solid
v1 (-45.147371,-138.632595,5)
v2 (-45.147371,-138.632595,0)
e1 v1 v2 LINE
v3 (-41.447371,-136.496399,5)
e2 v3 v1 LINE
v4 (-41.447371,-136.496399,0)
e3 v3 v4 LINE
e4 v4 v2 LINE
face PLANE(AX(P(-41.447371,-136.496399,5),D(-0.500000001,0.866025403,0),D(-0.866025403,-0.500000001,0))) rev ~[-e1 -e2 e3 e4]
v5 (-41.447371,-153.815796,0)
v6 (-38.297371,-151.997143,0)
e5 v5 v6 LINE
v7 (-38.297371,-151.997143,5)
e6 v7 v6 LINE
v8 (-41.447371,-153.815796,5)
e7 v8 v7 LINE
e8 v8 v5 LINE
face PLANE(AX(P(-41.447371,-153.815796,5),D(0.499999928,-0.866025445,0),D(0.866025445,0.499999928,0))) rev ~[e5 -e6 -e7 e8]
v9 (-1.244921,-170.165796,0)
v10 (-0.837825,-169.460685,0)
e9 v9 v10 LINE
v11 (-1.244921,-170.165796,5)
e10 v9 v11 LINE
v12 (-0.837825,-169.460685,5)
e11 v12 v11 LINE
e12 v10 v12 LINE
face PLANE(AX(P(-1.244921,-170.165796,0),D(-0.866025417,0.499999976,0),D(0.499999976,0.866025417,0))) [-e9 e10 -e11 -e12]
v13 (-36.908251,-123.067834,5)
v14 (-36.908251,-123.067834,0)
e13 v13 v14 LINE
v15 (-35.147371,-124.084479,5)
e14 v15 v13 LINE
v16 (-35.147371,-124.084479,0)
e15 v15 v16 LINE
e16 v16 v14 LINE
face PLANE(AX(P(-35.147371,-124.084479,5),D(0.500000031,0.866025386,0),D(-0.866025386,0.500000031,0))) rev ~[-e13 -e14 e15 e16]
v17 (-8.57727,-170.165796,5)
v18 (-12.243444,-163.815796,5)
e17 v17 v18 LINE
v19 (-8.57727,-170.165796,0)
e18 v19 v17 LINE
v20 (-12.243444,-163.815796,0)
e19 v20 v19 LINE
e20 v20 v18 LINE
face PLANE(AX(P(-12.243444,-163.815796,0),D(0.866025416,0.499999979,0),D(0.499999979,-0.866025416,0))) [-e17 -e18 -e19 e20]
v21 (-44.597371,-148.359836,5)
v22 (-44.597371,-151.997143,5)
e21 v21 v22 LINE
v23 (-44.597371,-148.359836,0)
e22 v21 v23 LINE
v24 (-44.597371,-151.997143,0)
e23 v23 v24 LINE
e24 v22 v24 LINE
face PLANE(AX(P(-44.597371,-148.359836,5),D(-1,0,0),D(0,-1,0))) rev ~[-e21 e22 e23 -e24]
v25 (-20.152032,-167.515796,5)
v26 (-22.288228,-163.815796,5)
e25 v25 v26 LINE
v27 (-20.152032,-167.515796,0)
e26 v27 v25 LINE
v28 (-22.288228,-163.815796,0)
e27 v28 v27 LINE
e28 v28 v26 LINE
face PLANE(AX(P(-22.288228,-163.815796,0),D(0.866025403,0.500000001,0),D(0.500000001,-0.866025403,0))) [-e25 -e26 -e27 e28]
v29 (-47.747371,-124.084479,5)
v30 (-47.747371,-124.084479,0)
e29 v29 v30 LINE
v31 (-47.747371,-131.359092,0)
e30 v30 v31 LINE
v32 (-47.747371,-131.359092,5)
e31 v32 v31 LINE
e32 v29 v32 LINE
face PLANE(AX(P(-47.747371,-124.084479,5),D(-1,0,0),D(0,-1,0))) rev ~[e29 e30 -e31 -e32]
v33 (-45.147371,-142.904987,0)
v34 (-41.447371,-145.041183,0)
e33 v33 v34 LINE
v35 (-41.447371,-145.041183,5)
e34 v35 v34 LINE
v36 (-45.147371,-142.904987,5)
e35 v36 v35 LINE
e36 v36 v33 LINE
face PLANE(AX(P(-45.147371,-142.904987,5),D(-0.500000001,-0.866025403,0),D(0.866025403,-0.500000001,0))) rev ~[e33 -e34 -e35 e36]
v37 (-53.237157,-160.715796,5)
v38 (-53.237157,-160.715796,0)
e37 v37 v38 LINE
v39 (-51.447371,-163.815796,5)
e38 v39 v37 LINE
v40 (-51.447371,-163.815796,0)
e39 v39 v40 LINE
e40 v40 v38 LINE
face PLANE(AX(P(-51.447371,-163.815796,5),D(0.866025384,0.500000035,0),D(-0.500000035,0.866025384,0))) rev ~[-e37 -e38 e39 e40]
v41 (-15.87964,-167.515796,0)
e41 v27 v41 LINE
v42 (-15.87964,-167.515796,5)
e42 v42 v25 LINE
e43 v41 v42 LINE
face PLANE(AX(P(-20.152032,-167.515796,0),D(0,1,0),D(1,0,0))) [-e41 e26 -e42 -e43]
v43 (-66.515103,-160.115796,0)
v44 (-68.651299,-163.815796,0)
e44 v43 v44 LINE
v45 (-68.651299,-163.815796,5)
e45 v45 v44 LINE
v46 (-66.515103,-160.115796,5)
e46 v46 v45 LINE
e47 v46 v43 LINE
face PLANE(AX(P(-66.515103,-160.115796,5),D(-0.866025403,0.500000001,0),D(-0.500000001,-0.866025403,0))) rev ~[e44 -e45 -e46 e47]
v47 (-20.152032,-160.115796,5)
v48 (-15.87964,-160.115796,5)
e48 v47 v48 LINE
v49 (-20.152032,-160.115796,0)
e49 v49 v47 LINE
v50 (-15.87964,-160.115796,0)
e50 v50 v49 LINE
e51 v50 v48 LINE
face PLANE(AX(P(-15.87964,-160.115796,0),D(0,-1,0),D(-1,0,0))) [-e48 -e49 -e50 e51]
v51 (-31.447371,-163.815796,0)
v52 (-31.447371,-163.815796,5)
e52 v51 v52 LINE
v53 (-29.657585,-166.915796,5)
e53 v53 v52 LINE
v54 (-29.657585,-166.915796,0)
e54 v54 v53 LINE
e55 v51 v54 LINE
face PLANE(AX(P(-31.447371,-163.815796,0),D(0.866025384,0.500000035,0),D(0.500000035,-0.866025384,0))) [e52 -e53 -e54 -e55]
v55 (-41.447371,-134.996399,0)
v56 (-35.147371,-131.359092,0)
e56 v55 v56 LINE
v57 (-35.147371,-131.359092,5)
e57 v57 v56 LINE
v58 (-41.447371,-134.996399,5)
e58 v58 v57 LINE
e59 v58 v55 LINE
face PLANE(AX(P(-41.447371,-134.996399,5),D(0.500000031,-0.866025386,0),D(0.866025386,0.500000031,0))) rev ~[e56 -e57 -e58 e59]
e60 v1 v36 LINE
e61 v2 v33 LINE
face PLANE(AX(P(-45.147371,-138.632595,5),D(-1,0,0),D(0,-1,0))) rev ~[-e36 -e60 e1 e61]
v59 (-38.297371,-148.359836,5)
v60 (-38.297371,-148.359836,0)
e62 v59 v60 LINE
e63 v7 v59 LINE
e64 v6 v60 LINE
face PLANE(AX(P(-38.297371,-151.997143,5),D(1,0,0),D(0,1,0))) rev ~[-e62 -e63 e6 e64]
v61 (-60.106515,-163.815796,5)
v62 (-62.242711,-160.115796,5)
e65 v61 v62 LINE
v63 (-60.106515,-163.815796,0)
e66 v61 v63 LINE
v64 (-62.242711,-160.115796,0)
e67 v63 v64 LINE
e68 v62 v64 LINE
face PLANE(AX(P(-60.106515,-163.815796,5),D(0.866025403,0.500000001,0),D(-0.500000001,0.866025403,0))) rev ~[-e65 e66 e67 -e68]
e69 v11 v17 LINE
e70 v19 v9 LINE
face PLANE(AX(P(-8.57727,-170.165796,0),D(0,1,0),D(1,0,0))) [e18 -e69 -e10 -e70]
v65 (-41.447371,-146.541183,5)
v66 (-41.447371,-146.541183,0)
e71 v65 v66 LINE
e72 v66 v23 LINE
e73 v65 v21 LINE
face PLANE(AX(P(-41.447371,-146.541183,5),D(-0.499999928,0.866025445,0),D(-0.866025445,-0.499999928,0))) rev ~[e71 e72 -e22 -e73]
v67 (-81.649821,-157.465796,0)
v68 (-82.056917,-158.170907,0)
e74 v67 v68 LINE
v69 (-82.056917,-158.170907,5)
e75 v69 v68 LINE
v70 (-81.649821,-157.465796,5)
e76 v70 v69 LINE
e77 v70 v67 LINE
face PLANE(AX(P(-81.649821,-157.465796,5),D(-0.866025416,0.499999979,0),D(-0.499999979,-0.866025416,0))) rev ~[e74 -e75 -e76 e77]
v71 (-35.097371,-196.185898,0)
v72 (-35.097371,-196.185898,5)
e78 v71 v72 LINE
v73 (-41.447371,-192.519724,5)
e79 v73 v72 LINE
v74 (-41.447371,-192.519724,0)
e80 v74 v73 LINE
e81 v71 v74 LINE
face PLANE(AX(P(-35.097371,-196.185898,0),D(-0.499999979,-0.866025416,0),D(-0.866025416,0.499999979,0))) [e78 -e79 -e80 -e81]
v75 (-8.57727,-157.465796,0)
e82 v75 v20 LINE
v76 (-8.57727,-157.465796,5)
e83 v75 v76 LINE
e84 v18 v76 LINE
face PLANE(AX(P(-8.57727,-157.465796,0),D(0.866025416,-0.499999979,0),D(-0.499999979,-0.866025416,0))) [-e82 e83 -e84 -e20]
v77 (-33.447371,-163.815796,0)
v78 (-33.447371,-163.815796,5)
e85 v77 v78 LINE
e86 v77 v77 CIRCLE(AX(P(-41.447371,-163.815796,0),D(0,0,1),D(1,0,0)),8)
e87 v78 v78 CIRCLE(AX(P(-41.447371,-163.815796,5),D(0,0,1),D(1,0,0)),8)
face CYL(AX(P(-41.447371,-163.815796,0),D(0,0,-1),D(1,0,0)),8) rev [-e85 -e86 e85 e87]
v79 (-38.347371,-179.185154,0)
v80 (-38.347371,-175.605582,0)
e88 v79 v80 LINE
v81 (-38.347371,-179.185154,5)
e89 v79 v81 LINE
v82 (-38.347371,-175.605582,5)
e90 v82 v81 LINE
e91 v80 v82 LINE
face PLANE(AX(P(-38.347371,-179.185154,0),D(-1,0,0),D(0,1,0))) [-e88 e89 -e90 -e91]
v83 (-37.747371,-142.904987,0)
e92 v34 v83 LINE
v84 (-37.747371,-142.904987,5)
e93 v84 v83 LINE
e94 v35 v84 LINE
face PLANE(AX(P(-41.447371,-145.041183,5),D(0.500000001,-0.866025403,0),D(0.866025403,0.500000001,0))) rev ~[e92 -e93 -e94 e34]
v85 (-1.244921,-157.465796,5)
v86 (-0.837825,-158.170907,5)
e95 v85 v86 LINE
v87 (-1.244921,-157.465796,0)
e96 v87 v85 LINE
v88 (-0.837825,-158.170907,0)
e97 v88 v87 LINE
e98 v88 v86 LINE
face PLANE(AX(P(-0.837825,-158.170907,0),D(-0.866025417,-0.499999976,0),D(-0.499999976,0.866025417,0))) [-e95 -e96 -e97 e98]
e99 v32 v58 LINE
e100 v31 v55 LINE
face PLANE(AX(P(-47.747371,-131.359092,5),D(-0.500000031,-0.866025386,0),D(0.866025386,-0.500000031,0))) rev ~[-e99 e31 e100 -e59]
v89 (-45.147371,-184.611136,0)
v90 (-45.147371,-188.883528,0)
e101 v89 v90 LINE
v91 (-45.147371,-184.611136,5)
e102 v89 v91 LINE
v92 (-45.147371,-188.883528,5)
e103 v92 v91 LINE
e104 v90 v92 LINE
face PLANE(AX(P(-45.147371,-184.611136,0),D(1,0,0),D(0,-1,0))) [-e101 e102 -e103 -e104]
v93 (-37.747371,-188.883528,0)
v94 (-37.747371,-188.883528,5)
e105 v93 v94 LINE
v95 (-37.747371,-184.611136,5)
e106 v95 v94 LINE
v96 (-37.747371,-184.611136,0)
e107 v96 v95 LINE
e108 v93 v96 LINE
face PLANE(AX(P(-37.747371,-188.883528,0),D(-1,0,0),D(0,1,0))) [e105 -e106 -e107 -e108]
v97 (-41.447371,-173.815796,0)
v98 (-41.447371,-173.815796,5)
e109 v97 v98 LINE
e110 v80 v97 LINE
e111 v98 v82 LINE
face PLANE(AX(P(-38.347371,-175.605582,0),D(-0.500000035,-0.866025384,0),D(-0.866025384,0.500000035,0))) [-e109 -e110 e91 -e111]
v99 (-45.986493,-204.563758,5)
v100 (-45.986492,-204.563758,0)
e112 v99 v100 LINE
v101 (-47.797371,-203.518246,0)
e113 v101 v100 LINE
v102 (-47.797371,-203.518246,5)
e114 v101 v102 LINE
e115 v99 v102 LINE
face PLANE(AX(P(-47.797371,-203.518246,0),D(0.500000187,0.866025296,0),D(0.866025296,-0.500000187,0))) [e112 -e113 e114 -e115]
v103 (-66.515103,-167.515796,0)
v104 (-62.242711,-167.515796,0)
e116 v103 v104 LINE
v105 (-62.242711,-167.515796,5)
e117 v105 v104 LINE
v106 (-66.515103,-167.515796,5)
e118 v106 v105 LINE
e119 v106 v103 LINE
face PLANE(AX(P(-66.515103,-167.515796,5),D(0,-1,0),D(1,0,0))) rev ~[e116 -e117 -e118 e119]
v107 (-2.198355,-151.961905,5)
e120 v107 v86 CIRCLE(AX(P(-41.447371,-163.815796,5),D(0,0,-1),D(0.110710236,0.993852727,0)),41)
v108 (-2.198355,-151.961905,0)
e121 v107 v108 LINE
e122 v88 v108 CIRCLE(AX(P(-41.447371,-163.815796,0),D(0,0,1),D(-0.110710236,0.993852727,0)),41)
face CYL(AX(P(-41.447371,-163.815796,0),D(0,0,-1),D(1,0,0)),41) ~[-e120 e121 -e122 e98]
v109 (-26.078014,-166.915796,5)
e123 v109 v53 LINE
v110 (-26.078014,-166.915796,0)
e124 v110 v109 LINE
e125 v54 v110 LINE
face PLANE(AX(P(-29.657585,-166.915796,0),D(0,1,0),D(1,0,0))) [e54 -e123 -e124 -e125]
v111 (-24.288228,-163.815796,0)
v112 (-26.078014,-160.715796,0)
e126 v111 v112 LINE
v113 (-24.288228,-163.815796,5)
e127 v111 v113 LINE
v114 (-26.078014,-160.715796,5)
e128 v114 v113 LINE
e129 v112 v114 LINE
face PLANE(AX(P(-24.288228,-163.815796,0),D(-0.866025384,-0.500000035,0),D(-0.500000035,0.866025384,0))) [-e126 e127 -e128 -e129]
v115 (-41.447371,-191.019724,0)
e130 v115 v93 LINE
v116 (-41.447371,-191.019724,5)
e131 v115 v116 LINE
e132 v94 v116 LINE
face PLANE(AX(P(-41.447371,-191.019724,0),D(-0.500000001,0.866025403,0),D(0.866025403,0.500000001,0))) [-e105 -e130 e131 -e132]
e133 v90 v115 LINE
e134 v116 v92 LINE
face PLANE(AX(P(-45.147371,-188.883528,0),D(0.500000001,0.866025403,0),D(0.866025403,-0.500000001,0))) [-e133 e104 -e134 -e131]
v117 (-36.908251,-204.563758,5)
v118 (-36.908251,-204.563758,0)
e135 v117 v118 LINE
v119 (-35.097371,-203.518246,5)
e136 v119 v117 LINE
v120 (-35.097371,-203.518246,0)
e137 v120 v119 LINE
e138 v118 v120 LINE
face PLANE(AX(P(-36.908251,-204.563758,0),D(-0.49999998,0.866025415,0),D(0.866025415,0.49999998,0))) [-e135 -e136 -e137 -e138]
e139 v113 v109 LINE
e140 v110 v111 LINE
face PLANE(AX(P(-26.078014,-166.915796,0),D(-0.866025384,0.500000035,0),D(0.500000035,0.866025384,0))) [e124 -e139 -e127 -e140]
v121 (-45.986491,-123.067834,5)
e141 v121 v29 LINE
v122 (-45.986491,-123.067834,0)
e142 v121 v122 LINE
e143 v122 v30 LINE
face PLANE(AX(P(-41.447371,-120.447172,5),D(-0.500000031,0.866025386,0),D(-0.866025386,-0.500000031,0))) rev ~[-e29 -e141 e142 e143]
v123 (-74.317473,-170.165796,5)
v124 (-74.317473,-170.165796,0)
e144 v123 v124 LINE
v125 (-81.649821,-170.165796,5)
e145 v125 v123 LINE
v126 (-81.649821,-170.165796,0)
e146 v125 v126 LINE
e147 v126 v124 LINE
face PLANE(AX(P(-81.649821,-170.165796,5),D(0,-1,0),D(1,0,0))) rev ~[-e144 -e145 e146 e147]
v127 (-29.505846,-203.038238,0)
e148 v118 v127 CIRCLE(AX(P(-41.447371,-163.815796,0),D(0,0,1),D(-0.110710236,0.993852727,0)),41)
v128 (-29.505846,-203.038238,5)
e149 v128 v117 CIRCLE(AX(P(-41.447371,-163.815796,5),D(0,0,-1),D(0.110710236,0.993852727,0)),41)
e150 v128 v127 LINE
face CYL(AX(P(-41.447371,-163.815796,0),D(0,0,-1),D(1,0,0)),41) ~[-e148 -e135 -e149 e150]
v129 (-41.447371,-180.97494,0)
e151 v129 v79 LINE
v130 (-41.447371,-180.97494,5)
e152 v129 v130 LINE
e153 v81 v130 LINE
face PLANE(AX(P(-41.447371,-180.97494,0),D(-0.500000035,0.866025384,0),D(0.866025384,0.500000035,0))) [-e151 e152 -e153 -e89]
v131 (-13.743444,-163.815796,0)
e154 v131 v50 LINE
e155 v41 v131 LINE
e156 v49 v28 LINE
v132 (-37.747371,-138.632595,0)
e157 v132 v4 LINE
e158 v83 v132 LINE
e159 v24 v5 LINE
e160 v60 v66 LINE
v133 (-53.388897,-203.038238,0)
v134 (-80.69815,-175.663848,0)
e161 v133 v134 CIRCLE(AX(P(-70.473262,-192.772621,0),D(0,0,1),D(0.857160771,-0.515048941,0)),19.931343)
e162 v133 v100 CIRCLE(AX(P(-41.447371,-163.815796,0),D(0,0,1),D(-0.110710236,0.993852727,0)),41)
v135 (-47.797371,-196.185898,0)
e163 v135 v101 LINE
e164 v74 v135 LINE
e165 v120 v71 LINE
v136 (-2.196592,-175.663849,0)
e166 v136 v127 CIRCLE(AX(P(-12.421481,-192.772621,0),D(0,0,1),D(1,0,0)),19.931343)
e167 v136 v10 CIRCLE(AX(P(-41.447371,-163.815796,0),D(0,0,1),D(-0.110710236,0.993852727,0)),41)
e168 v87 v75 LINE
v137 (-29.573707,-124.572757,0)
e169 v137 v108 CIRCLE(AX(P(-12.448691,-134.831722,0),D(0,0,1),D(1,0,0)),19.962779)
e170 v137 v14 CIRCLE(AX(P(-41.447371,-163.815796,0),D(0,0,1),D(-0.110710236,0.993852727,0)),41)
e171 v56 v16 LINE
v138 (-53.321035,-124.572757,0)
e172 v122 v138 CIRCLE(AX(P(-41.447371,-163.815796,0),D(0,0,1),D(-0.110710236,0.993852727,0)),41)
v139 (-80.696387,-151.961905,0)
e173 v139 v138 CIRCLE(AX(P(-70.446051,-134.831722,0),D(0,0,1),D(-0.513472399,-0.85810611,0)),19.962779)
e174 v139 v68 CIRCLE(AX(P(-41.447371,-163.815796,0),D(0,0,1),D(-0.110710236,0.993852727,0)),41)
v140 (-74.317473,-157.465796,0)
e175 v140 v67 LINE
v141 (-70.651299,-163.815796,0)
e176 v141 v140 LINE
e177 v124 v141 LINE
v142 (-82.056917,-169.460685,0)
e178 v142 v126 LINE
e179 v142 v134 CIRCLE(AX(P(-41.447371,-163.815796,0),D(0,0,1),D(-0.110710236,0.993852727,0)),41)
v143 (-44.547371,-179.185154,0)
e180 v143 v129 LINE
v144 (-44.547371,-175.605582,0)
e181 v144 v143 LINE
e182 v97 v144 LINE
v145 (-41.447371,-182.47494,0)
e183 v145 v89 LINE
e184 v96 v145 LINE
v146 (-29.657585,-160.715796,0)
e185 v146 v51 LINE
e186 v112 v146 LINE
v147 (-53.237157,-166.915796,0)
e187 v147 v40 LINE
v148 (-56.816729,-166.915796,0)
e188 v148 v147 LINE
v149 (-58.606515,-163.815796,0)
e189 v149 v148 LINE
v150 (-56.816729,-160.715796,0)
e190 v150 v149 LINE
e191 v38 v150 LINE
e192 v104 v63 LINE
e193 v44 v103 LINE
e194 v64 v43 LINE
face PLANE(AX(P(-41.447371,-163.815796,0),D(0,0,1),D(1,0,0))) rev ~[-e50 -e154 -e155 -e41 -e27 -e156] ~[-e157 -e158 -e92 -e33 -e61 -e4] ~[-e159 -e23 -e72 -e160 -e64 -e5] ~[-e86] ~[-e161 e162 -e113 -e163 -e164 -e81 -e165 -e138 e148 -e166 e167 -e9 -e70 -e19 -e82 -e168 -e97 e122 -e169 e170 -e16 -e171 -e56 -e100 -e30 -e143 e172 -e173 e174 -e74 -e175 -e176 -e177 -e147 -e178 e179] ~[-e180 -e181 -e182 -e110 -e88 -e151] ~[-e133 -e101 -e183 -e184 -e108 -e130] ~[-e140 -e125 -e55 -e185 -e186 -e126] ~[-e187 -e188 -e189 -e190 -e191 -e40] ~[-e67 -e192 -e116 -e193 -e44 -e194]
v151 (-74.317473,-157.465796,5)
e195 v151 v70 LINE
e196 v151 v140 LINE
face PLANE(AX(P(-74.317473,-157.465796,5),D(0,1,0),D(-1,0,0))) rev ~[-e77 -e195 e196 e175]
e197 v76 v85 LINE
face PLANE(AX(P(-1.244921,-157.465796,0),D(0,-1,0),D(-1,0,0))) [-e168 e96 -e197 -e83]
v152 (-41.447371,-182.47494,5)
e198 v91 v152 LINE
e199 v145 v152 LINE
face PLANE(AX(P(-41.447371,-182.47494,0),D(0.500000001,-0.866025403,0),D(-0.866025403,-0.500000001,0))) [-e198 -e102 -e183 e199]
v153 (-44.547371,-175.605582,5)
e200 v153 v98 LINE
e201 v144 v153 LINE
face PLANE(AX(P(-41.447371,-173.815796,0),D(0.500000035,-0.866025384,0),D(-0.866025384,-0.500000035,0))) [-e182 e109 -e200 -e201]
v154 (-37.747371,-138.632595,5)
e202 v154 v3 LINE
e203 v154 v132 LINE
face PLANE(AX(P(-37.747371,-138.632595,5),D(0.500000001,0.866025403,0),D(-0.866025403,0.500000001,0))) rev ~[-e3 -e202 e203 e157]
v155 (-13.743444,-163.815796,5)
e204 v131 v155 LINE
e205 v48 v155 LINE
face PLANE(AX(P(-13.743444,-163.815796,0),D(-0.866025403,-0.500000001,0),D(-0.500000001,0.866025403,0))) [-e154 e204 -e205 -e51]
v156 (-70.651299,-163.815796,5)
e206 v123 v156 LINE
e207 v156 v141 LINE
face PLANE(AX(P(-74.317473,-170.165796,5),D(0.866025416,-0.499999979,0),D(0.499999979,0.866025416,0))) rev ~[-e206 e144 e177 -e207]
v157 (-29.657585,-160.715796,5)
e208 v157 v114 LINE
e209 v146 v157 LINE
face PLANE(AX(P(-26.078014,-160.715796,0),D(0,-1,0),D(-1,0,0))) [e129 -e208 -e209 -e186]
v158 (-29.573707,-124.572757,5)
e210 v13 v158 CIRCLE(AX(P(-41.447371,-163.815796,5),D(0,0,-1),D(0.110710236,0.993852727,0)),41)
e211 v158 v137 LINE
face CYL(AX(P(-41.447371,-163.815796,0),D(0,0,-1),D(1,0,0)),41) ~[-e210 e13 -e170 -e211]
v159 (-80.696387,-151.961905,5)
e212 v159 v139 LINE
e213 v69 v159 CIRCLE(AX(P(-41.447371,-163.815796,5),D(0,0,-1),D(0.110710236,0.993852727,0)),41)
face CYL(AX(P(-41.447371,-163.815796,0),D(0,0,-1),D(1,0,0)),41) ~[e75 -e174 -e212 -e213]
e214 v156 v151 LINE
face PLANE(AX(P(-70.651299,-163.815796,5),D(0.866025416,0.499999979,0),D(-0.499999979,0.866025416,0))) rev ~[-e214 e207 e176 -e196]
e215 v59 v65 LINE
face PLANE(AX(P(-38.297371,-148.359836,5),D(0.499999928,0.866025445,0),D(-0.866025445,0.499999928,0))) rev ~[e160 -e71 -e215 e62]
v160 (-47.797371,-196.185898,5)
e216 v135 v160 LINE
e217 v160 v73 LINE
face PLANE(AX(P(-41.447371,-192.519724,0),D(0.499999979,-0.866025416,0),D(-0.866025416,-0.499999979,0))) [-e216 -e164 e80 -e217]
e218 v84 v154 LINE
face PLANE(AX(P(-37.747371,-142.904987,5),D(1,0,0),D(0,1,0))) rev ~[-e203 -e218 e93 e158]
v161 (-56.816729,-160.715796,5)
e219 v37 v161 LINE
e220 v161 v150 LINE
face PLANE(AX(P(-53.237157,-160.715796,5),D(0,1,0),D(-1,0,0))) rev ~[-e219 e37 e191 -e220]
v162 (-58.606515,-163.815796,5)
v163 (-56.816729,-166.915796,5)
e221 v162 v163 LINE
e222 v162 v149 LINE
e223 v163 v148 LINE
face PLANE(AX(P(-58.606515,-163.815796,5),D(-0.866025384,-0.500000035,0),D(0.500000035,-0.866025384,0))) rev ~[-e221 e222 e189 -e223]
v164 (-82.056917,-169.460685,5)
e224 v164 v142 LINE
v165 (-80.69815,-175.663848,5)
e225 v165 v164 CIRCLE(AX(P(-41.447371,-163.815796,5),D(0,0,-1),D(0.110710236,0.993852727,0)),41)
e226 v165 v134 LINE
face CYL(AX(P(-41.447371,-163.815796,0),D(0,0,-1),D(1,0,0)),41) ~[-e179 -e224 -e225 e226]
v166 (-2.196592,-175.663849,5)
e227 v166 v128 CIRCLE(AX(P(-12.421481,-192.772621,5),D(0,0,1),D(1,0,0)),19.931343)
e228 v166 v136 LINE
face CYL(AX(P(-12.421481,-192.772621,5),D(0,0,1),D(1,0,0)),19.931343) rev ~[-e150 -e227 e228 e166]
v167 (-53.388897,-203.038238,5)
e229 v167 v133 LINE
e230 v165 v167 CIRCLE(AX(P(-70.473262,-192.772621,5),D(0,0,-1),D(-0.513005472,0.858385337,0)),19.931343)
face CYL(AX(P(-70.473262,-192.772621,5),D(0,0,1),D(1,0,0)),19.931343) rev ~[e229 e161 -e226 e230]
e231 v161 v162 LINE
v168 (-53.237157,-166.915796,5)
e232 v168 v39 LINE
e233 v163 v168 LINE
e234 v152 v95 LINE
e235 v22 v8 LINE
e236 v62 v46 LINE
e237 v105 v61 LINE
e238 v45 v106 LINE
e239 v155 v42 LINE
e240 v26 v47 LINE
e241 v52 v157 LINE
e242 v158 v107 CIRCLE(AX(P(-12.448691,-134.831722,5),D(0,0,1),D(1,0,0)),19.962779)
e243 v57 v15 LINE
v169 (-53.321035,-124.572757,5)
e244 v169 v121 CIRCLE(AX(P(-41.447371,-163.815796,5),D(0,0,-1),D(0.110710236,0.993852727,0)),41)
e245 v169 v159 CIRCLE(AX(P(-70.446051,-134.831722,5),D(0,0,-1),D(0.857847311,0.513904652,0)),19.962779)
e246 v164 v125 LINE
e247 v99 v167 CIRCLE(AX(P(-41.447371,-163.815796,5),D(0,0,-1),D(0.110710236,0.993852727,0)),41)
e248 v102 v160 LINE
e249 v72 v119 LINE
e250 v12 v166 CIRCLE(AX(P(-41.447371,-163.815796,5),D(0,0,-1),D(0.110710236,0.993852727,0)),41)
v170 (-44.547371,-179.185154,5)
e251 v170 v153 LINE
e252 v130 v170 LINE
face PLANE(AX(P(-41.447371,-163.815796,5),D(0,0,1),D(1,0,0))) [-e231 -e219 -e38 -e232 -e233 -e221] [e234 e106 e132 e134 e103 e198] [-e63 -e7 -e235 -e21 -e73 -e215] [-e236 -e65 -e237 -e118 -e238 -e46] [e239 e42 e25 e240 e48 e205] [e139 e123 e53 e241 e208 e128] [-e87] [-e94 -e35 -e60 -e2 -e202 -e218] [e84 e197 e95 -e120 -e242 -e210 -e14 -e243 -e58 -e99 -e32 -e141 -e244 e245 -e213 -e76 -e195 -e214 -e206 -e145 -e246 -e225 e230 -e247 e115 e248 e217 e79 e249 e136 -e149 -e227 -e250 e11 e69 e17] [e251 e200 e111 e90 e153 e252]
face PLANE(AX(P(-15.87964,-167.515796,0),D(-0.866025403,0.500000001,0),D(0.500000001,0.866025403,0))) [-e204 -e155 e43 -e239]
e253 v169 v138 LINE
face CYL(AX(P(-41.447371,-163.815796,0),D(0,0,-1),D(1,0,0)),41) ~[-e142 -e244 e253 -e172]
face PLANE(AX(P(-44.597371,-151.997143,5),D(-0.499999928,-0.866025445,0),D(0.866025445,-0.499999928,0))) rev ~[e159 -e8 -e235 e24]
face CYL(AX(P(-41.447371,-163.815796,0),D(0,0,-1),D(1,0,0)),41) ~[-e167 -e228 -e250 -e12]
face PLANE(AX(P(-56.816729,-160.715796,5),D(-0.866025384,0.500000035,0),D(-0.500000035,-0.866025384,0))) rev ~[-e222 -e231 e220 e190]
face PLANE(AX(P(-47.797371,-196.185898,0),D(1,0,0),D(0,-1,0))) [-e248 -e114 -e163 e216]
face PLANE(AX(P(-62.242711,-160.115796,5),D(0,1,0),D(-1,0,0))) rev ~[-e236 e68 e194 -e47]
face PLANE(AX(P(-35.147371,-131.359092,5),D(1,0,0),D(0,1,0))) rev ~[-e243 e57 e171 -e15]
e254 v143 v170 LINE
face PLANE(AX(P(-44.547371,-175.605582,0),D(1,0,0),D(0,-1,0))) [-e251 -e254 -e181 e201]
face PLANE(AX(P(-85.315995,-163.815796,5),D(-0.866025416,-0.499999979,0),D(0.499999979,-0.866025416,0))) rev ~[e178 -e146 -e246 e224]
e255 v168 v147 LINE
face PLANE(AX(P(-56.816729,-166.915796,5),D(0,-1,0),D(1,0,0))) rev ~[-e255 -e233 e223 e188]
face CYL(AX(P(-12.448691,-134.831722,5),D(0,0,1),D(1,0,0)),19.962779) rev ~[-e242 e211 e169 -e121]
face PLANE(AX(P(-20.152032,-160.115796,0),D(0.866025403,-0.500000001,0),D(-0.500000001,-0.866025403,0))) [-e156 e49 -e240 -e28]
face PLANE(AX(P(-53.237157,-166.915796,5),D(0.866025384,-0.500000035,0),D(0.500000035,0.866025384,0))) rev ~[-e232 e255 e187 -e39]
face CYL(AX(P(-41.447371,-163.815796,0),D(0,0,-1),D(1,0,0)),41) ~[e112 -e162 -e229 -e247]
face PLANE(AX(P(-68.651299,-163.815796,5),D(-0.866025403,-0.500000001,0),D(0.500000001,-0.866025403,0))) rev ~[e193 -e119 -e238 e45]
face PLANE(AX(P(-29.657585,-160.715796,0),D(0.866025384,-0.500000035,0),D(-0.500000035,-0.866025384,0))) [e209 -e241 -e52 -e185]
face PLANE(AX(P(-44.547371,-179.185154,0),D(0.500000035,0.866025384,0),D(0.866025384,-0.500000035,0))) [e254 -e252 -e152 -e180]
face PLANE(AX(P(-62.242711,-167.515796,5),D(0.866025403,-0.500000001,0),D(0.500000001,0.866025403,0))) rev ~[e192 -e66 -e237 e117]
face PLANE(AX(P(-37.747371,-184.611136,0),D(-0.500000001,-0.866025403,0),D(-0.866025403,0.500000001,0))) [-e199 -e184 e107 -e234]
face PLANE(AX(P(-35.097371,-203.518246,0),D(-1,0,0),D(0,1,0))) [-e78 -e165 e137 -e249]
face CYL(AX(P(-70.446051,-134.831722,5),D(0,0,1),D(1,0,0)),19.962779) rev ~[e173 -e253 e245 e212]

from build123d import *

# Parameters (mm, degrees)
F0_R      = 41
F0_R_2    = 8
F2_DEPTH  = 5
F5_DEPTH  = 5.001
F7_DEPTH  = 5.001
F9_DEPTH  = 5.001
F11_DEPTH = 5.001
F13_DEPTH = 5.001
F15_DEPTH = 25
F16_R     = 8
F17_DEPTH = 5.001
F19_DEPTH = 5.001
F21_DEPTH = 5.001
F22_R     = 8
F23_DEPTH = 5.001
F24_R     = 8
F25_DEPTH = 5.001
F26_R     = 8
F27_DEPTH = 5.001
F28_R     = 19.931343
F29_DEPTH = 5.001
F30_R     = 19.962779
F31_DEPTH = 5.001
F32_R     = 19.962779
F33_DEPTH = 5.001
F34_R     = 19.931343
F35_DEPTH = 5.001


with BuildPart() as f2:
    # F0 (on Top) → F2 (new body)
    with BuildSketch(Plane.XY):
        with Locations((-41.447371, -163.815796)):
            Circle(F0_R)
        with Locations((-41.447371, -163.815796)):
            Circle(F0_R_2, mode=Mode.SUBTRACT)
    extrude(amount=F2_DEPTH)

    # F4 (on face) → F5 (cut, through all)
    with BuildSketch(Plane.XY.offset(5)):
        Polygon((-38.297371, -151.997143), (-38.297371, -148.359836), (-41.447371, -146.541183), (-44.597371, -148.359836), (-44.597371, -151.997143), (-41.447371, -153.815796), align=None)
    extrude(amount=-F5_DEPTH, mode=Mode.SUBTRACT)

    # F6 (on face) → F7 (cut, through all)
    with BuildSketch(Plane.XY.offset(5)):
        Polygon((-37.747371, -142.904987), (-37.747371, -138.632595), (-41.447371, -136.496399), (-45.147371, -138.632595), (-45.147371, -142.904987), (-41.447371, -145.041183), align=None)
    extrude(amount=-F7_DEPTH, mode=Mode.SUBTRACT)

    # F8 (on face) → F9 (cut, through all)
    with BuildSketch(Plane.XY.offset(5)):
        Polygon((-47.747371, -131.359092), (-41.447371, -134.996399), (-35.147371, -131.359092), (-35.147371, -124.084479), (-41.447371, -120.447172), (-47.747371, -124.084479), align=None)
    extrude(amount=-F9_DEPTH, mode=Mode.SUBTRACT)

    # F10 (on face) → F11 (cut, through all)
    with BuildSketch(Plane.XY):
        Polygon((-38.347371, -175.605582), (-41.447371, -173.815796), (-44.547371, -175.605582), (-44.547371, -179.185154), (-41.447371, -180.97494), (-38.347371, -179.185154), align=None)
    extrude(amount=F11_DEPTH, mode=Mode.SUBTRACT)

    # F12 (on face) → F13 (cut, through all)
    with BuildSketch(Plane.XY):
        Polygon((-37.747371, -184.611136), (-41.447371, -182.47494), (-45.147371, -184.611136), (-45.147371, -188.883528), (-41.447371, -191.019724), (-37.747371, -188.883528), align=None)
    extrude(amount=F13_DEPTH, mode=Mode.SUBTRACT)

    # F14 (on face) → F15 (cut)
    with BuildSketch(Plane.XY):
        with BuildLine():
            Line((-35.097371, -196.185898), (-41.447371, -192.519724))
            Line((-41.447371, -192.519724), (-47.797371, -196.185898))
            Line((-47.797371, -196.185898), (-47.797371, -203.518246))
            Line((-47.797371, -203.518246), (-45.986492, -204.563758))
            ThreePointArc((-45.986492, -204.563758), (-41.447371, -204.815796), (-36.908251, -204.563758))
            Line((-36.908251, -204.563758), (-35.097371, -203.518246))
            Line((-35.097371, -203.518246), (-35.097371, -196.185898))
        make_face()
    extrude(amount=F15_DEPTH, mode=Mode.SUBTRACT)

    # F16 (on face) → F17 (cut, through all)
    with BuildSketch(Plane.XY):
        with Locations((-41.447371, -163.815796)):
            Circle(F16_R)
        Polygon((-24.288228, -163.815796), (-26.078014, -160.715796), (-29.657585, -160.715796), (-31.447371, -163.815796), align=None)
        Polygon((-26.078014, -166.915796), (-24.288228, -163.815796), (-31.447371, -163.815796), (-29.657585, -166.915796), align=None)
    extrude(amount=F17_DEPTH, mode=Mode.SUBTRACT)

    # F18 (on face) → F19 (cut, through all)
    with BuildSketch(Plane.XY):
        Polygon((-15.87964, -160.115796), (-20.152032, -160.115796), (-22.288228, -163.815796), (-20.152032, -167.515796), (-15.87964, -167.515796), (-13.743444, -163.815796), align=None)
    extrude(amount=F19_DEPTH, mode=Mode.SUBTRACT)

    # F20 (on face) → F21 (cut, through all)
    with BuildSketch(Plane.XY):
        with BuildLine():
            Line((-0.837825, -158.170907), (-1.244921, -157.465796))
            Line((-1.244921, -157.465796), (-8.57727, -157.465796))
            Line((-8.57727, -157.465796), (-12.243444, -163.815796))
            Line((-12.243444, -163.815796), (-8.57727, -170.165796))
            Line((-8.57727, -170.165796), (-1.244921, -170.165796))
            Line((-1.244921, -170.165796), (-0.837825, -169.460685))
            ThreePointArc((-0.837825, -169.460685), (-0.545101, -166.644985), (-0.447371, -163.815796))
            ThreePointArc((-0.447371, -163.815796), (-0.545101, -160.986608), (-0.837825, -158.170907))
        make_face()
    extrude(amount=F21_DEPTH, mode=Mode.SUBTRACT)

    # F22 (on face) → F23 (cut, through all)
    with BuildSketch(Plane.XY.offset(5)):
        Polygon((-53.237157, -160.715796), (-56.816729, -160.715796), (-58.606515, -163.815796), (-56.816729, -166.915796), (-53.237157, -166.915796), (-51.447371, -163.815796), align=None)
        with Locations((-41.447371, -163.815796)):
            Circle(F22_R)
    extrude(amount=-F23_DEPTH, mode=Mode.SUBTRACT)

    # F24 (on face) → F25 (cut, through all)
    with BuildSketch(Plane.XY.offset(5)):
        Polygon((-60.106515, -163.815796), (-62.242711, -160.115796), (-66.515103, -160.115796), (-68.651299, -163.815796), (-66.515103, -167.515796), (-62.242711, -167.515796), align=None)
        with Locations((-41.447371, -163.815796)):
            Circle(F24_R)
    extrude(amount=-F25_DEPTH, mode=Mode.SUBTRACT)

    # F26 (on face) → F27 (cut, through all)
    with BuildSketch(Plane.XY.offset(5)):
        Polygon((-85.315995, -163.815796), (-81.649821, -170.165796), (-74.317473, -170.165796), (-70.651299, -163.815796), (-74.317473, -157.465796), (-81.649821, -157.465796), align=None)
        with Locations((-41.447371, -163.815796)):
            Circle(F26_R)
    extrude(amount=-F27_DEPTH, mode=Mode.SUBTRACT)

    # F28 (on face) → F29 (cut, through all)
    with BuildSketch(Plane.XY.offset(5)):
        with Locations((-70.473262, -192.772621)):
            Circle(F28_R)
    extrude(amount=-F29_DEPTH, mode=Mode.SUBTRACT)

    # F30 (on face) → F31 (cut, through all)
    with BuildSketch(Plane.XY.offset(5)):
        with Locations((-70.446051, -134.831722)):
            Circle(F30_R)
    extrude(amount=-F31_DEPTH, mode=Mode.SUBTRACT)

    # F32 (on face) → F33 (cut, through all)
    with BuildSketch(Plane.XY.offset(5)):
        with Locations((-12.448691, -134.831722)):
            Circle(F32_R)
    extrude(amount=-F33_DEPTH, mode=Mode.SUBTRACT)

    # F34 (on face) → F35 (cut, through all)
    with BuildSketch(Plane.XY.offset(5)):
        with Locations((-12.421481, -192.772621)):
            Circle(F34_R)
    extrude(amount=-F35_DEPTH, mode=Mode.SUBTRACT)


solid = f2.part
